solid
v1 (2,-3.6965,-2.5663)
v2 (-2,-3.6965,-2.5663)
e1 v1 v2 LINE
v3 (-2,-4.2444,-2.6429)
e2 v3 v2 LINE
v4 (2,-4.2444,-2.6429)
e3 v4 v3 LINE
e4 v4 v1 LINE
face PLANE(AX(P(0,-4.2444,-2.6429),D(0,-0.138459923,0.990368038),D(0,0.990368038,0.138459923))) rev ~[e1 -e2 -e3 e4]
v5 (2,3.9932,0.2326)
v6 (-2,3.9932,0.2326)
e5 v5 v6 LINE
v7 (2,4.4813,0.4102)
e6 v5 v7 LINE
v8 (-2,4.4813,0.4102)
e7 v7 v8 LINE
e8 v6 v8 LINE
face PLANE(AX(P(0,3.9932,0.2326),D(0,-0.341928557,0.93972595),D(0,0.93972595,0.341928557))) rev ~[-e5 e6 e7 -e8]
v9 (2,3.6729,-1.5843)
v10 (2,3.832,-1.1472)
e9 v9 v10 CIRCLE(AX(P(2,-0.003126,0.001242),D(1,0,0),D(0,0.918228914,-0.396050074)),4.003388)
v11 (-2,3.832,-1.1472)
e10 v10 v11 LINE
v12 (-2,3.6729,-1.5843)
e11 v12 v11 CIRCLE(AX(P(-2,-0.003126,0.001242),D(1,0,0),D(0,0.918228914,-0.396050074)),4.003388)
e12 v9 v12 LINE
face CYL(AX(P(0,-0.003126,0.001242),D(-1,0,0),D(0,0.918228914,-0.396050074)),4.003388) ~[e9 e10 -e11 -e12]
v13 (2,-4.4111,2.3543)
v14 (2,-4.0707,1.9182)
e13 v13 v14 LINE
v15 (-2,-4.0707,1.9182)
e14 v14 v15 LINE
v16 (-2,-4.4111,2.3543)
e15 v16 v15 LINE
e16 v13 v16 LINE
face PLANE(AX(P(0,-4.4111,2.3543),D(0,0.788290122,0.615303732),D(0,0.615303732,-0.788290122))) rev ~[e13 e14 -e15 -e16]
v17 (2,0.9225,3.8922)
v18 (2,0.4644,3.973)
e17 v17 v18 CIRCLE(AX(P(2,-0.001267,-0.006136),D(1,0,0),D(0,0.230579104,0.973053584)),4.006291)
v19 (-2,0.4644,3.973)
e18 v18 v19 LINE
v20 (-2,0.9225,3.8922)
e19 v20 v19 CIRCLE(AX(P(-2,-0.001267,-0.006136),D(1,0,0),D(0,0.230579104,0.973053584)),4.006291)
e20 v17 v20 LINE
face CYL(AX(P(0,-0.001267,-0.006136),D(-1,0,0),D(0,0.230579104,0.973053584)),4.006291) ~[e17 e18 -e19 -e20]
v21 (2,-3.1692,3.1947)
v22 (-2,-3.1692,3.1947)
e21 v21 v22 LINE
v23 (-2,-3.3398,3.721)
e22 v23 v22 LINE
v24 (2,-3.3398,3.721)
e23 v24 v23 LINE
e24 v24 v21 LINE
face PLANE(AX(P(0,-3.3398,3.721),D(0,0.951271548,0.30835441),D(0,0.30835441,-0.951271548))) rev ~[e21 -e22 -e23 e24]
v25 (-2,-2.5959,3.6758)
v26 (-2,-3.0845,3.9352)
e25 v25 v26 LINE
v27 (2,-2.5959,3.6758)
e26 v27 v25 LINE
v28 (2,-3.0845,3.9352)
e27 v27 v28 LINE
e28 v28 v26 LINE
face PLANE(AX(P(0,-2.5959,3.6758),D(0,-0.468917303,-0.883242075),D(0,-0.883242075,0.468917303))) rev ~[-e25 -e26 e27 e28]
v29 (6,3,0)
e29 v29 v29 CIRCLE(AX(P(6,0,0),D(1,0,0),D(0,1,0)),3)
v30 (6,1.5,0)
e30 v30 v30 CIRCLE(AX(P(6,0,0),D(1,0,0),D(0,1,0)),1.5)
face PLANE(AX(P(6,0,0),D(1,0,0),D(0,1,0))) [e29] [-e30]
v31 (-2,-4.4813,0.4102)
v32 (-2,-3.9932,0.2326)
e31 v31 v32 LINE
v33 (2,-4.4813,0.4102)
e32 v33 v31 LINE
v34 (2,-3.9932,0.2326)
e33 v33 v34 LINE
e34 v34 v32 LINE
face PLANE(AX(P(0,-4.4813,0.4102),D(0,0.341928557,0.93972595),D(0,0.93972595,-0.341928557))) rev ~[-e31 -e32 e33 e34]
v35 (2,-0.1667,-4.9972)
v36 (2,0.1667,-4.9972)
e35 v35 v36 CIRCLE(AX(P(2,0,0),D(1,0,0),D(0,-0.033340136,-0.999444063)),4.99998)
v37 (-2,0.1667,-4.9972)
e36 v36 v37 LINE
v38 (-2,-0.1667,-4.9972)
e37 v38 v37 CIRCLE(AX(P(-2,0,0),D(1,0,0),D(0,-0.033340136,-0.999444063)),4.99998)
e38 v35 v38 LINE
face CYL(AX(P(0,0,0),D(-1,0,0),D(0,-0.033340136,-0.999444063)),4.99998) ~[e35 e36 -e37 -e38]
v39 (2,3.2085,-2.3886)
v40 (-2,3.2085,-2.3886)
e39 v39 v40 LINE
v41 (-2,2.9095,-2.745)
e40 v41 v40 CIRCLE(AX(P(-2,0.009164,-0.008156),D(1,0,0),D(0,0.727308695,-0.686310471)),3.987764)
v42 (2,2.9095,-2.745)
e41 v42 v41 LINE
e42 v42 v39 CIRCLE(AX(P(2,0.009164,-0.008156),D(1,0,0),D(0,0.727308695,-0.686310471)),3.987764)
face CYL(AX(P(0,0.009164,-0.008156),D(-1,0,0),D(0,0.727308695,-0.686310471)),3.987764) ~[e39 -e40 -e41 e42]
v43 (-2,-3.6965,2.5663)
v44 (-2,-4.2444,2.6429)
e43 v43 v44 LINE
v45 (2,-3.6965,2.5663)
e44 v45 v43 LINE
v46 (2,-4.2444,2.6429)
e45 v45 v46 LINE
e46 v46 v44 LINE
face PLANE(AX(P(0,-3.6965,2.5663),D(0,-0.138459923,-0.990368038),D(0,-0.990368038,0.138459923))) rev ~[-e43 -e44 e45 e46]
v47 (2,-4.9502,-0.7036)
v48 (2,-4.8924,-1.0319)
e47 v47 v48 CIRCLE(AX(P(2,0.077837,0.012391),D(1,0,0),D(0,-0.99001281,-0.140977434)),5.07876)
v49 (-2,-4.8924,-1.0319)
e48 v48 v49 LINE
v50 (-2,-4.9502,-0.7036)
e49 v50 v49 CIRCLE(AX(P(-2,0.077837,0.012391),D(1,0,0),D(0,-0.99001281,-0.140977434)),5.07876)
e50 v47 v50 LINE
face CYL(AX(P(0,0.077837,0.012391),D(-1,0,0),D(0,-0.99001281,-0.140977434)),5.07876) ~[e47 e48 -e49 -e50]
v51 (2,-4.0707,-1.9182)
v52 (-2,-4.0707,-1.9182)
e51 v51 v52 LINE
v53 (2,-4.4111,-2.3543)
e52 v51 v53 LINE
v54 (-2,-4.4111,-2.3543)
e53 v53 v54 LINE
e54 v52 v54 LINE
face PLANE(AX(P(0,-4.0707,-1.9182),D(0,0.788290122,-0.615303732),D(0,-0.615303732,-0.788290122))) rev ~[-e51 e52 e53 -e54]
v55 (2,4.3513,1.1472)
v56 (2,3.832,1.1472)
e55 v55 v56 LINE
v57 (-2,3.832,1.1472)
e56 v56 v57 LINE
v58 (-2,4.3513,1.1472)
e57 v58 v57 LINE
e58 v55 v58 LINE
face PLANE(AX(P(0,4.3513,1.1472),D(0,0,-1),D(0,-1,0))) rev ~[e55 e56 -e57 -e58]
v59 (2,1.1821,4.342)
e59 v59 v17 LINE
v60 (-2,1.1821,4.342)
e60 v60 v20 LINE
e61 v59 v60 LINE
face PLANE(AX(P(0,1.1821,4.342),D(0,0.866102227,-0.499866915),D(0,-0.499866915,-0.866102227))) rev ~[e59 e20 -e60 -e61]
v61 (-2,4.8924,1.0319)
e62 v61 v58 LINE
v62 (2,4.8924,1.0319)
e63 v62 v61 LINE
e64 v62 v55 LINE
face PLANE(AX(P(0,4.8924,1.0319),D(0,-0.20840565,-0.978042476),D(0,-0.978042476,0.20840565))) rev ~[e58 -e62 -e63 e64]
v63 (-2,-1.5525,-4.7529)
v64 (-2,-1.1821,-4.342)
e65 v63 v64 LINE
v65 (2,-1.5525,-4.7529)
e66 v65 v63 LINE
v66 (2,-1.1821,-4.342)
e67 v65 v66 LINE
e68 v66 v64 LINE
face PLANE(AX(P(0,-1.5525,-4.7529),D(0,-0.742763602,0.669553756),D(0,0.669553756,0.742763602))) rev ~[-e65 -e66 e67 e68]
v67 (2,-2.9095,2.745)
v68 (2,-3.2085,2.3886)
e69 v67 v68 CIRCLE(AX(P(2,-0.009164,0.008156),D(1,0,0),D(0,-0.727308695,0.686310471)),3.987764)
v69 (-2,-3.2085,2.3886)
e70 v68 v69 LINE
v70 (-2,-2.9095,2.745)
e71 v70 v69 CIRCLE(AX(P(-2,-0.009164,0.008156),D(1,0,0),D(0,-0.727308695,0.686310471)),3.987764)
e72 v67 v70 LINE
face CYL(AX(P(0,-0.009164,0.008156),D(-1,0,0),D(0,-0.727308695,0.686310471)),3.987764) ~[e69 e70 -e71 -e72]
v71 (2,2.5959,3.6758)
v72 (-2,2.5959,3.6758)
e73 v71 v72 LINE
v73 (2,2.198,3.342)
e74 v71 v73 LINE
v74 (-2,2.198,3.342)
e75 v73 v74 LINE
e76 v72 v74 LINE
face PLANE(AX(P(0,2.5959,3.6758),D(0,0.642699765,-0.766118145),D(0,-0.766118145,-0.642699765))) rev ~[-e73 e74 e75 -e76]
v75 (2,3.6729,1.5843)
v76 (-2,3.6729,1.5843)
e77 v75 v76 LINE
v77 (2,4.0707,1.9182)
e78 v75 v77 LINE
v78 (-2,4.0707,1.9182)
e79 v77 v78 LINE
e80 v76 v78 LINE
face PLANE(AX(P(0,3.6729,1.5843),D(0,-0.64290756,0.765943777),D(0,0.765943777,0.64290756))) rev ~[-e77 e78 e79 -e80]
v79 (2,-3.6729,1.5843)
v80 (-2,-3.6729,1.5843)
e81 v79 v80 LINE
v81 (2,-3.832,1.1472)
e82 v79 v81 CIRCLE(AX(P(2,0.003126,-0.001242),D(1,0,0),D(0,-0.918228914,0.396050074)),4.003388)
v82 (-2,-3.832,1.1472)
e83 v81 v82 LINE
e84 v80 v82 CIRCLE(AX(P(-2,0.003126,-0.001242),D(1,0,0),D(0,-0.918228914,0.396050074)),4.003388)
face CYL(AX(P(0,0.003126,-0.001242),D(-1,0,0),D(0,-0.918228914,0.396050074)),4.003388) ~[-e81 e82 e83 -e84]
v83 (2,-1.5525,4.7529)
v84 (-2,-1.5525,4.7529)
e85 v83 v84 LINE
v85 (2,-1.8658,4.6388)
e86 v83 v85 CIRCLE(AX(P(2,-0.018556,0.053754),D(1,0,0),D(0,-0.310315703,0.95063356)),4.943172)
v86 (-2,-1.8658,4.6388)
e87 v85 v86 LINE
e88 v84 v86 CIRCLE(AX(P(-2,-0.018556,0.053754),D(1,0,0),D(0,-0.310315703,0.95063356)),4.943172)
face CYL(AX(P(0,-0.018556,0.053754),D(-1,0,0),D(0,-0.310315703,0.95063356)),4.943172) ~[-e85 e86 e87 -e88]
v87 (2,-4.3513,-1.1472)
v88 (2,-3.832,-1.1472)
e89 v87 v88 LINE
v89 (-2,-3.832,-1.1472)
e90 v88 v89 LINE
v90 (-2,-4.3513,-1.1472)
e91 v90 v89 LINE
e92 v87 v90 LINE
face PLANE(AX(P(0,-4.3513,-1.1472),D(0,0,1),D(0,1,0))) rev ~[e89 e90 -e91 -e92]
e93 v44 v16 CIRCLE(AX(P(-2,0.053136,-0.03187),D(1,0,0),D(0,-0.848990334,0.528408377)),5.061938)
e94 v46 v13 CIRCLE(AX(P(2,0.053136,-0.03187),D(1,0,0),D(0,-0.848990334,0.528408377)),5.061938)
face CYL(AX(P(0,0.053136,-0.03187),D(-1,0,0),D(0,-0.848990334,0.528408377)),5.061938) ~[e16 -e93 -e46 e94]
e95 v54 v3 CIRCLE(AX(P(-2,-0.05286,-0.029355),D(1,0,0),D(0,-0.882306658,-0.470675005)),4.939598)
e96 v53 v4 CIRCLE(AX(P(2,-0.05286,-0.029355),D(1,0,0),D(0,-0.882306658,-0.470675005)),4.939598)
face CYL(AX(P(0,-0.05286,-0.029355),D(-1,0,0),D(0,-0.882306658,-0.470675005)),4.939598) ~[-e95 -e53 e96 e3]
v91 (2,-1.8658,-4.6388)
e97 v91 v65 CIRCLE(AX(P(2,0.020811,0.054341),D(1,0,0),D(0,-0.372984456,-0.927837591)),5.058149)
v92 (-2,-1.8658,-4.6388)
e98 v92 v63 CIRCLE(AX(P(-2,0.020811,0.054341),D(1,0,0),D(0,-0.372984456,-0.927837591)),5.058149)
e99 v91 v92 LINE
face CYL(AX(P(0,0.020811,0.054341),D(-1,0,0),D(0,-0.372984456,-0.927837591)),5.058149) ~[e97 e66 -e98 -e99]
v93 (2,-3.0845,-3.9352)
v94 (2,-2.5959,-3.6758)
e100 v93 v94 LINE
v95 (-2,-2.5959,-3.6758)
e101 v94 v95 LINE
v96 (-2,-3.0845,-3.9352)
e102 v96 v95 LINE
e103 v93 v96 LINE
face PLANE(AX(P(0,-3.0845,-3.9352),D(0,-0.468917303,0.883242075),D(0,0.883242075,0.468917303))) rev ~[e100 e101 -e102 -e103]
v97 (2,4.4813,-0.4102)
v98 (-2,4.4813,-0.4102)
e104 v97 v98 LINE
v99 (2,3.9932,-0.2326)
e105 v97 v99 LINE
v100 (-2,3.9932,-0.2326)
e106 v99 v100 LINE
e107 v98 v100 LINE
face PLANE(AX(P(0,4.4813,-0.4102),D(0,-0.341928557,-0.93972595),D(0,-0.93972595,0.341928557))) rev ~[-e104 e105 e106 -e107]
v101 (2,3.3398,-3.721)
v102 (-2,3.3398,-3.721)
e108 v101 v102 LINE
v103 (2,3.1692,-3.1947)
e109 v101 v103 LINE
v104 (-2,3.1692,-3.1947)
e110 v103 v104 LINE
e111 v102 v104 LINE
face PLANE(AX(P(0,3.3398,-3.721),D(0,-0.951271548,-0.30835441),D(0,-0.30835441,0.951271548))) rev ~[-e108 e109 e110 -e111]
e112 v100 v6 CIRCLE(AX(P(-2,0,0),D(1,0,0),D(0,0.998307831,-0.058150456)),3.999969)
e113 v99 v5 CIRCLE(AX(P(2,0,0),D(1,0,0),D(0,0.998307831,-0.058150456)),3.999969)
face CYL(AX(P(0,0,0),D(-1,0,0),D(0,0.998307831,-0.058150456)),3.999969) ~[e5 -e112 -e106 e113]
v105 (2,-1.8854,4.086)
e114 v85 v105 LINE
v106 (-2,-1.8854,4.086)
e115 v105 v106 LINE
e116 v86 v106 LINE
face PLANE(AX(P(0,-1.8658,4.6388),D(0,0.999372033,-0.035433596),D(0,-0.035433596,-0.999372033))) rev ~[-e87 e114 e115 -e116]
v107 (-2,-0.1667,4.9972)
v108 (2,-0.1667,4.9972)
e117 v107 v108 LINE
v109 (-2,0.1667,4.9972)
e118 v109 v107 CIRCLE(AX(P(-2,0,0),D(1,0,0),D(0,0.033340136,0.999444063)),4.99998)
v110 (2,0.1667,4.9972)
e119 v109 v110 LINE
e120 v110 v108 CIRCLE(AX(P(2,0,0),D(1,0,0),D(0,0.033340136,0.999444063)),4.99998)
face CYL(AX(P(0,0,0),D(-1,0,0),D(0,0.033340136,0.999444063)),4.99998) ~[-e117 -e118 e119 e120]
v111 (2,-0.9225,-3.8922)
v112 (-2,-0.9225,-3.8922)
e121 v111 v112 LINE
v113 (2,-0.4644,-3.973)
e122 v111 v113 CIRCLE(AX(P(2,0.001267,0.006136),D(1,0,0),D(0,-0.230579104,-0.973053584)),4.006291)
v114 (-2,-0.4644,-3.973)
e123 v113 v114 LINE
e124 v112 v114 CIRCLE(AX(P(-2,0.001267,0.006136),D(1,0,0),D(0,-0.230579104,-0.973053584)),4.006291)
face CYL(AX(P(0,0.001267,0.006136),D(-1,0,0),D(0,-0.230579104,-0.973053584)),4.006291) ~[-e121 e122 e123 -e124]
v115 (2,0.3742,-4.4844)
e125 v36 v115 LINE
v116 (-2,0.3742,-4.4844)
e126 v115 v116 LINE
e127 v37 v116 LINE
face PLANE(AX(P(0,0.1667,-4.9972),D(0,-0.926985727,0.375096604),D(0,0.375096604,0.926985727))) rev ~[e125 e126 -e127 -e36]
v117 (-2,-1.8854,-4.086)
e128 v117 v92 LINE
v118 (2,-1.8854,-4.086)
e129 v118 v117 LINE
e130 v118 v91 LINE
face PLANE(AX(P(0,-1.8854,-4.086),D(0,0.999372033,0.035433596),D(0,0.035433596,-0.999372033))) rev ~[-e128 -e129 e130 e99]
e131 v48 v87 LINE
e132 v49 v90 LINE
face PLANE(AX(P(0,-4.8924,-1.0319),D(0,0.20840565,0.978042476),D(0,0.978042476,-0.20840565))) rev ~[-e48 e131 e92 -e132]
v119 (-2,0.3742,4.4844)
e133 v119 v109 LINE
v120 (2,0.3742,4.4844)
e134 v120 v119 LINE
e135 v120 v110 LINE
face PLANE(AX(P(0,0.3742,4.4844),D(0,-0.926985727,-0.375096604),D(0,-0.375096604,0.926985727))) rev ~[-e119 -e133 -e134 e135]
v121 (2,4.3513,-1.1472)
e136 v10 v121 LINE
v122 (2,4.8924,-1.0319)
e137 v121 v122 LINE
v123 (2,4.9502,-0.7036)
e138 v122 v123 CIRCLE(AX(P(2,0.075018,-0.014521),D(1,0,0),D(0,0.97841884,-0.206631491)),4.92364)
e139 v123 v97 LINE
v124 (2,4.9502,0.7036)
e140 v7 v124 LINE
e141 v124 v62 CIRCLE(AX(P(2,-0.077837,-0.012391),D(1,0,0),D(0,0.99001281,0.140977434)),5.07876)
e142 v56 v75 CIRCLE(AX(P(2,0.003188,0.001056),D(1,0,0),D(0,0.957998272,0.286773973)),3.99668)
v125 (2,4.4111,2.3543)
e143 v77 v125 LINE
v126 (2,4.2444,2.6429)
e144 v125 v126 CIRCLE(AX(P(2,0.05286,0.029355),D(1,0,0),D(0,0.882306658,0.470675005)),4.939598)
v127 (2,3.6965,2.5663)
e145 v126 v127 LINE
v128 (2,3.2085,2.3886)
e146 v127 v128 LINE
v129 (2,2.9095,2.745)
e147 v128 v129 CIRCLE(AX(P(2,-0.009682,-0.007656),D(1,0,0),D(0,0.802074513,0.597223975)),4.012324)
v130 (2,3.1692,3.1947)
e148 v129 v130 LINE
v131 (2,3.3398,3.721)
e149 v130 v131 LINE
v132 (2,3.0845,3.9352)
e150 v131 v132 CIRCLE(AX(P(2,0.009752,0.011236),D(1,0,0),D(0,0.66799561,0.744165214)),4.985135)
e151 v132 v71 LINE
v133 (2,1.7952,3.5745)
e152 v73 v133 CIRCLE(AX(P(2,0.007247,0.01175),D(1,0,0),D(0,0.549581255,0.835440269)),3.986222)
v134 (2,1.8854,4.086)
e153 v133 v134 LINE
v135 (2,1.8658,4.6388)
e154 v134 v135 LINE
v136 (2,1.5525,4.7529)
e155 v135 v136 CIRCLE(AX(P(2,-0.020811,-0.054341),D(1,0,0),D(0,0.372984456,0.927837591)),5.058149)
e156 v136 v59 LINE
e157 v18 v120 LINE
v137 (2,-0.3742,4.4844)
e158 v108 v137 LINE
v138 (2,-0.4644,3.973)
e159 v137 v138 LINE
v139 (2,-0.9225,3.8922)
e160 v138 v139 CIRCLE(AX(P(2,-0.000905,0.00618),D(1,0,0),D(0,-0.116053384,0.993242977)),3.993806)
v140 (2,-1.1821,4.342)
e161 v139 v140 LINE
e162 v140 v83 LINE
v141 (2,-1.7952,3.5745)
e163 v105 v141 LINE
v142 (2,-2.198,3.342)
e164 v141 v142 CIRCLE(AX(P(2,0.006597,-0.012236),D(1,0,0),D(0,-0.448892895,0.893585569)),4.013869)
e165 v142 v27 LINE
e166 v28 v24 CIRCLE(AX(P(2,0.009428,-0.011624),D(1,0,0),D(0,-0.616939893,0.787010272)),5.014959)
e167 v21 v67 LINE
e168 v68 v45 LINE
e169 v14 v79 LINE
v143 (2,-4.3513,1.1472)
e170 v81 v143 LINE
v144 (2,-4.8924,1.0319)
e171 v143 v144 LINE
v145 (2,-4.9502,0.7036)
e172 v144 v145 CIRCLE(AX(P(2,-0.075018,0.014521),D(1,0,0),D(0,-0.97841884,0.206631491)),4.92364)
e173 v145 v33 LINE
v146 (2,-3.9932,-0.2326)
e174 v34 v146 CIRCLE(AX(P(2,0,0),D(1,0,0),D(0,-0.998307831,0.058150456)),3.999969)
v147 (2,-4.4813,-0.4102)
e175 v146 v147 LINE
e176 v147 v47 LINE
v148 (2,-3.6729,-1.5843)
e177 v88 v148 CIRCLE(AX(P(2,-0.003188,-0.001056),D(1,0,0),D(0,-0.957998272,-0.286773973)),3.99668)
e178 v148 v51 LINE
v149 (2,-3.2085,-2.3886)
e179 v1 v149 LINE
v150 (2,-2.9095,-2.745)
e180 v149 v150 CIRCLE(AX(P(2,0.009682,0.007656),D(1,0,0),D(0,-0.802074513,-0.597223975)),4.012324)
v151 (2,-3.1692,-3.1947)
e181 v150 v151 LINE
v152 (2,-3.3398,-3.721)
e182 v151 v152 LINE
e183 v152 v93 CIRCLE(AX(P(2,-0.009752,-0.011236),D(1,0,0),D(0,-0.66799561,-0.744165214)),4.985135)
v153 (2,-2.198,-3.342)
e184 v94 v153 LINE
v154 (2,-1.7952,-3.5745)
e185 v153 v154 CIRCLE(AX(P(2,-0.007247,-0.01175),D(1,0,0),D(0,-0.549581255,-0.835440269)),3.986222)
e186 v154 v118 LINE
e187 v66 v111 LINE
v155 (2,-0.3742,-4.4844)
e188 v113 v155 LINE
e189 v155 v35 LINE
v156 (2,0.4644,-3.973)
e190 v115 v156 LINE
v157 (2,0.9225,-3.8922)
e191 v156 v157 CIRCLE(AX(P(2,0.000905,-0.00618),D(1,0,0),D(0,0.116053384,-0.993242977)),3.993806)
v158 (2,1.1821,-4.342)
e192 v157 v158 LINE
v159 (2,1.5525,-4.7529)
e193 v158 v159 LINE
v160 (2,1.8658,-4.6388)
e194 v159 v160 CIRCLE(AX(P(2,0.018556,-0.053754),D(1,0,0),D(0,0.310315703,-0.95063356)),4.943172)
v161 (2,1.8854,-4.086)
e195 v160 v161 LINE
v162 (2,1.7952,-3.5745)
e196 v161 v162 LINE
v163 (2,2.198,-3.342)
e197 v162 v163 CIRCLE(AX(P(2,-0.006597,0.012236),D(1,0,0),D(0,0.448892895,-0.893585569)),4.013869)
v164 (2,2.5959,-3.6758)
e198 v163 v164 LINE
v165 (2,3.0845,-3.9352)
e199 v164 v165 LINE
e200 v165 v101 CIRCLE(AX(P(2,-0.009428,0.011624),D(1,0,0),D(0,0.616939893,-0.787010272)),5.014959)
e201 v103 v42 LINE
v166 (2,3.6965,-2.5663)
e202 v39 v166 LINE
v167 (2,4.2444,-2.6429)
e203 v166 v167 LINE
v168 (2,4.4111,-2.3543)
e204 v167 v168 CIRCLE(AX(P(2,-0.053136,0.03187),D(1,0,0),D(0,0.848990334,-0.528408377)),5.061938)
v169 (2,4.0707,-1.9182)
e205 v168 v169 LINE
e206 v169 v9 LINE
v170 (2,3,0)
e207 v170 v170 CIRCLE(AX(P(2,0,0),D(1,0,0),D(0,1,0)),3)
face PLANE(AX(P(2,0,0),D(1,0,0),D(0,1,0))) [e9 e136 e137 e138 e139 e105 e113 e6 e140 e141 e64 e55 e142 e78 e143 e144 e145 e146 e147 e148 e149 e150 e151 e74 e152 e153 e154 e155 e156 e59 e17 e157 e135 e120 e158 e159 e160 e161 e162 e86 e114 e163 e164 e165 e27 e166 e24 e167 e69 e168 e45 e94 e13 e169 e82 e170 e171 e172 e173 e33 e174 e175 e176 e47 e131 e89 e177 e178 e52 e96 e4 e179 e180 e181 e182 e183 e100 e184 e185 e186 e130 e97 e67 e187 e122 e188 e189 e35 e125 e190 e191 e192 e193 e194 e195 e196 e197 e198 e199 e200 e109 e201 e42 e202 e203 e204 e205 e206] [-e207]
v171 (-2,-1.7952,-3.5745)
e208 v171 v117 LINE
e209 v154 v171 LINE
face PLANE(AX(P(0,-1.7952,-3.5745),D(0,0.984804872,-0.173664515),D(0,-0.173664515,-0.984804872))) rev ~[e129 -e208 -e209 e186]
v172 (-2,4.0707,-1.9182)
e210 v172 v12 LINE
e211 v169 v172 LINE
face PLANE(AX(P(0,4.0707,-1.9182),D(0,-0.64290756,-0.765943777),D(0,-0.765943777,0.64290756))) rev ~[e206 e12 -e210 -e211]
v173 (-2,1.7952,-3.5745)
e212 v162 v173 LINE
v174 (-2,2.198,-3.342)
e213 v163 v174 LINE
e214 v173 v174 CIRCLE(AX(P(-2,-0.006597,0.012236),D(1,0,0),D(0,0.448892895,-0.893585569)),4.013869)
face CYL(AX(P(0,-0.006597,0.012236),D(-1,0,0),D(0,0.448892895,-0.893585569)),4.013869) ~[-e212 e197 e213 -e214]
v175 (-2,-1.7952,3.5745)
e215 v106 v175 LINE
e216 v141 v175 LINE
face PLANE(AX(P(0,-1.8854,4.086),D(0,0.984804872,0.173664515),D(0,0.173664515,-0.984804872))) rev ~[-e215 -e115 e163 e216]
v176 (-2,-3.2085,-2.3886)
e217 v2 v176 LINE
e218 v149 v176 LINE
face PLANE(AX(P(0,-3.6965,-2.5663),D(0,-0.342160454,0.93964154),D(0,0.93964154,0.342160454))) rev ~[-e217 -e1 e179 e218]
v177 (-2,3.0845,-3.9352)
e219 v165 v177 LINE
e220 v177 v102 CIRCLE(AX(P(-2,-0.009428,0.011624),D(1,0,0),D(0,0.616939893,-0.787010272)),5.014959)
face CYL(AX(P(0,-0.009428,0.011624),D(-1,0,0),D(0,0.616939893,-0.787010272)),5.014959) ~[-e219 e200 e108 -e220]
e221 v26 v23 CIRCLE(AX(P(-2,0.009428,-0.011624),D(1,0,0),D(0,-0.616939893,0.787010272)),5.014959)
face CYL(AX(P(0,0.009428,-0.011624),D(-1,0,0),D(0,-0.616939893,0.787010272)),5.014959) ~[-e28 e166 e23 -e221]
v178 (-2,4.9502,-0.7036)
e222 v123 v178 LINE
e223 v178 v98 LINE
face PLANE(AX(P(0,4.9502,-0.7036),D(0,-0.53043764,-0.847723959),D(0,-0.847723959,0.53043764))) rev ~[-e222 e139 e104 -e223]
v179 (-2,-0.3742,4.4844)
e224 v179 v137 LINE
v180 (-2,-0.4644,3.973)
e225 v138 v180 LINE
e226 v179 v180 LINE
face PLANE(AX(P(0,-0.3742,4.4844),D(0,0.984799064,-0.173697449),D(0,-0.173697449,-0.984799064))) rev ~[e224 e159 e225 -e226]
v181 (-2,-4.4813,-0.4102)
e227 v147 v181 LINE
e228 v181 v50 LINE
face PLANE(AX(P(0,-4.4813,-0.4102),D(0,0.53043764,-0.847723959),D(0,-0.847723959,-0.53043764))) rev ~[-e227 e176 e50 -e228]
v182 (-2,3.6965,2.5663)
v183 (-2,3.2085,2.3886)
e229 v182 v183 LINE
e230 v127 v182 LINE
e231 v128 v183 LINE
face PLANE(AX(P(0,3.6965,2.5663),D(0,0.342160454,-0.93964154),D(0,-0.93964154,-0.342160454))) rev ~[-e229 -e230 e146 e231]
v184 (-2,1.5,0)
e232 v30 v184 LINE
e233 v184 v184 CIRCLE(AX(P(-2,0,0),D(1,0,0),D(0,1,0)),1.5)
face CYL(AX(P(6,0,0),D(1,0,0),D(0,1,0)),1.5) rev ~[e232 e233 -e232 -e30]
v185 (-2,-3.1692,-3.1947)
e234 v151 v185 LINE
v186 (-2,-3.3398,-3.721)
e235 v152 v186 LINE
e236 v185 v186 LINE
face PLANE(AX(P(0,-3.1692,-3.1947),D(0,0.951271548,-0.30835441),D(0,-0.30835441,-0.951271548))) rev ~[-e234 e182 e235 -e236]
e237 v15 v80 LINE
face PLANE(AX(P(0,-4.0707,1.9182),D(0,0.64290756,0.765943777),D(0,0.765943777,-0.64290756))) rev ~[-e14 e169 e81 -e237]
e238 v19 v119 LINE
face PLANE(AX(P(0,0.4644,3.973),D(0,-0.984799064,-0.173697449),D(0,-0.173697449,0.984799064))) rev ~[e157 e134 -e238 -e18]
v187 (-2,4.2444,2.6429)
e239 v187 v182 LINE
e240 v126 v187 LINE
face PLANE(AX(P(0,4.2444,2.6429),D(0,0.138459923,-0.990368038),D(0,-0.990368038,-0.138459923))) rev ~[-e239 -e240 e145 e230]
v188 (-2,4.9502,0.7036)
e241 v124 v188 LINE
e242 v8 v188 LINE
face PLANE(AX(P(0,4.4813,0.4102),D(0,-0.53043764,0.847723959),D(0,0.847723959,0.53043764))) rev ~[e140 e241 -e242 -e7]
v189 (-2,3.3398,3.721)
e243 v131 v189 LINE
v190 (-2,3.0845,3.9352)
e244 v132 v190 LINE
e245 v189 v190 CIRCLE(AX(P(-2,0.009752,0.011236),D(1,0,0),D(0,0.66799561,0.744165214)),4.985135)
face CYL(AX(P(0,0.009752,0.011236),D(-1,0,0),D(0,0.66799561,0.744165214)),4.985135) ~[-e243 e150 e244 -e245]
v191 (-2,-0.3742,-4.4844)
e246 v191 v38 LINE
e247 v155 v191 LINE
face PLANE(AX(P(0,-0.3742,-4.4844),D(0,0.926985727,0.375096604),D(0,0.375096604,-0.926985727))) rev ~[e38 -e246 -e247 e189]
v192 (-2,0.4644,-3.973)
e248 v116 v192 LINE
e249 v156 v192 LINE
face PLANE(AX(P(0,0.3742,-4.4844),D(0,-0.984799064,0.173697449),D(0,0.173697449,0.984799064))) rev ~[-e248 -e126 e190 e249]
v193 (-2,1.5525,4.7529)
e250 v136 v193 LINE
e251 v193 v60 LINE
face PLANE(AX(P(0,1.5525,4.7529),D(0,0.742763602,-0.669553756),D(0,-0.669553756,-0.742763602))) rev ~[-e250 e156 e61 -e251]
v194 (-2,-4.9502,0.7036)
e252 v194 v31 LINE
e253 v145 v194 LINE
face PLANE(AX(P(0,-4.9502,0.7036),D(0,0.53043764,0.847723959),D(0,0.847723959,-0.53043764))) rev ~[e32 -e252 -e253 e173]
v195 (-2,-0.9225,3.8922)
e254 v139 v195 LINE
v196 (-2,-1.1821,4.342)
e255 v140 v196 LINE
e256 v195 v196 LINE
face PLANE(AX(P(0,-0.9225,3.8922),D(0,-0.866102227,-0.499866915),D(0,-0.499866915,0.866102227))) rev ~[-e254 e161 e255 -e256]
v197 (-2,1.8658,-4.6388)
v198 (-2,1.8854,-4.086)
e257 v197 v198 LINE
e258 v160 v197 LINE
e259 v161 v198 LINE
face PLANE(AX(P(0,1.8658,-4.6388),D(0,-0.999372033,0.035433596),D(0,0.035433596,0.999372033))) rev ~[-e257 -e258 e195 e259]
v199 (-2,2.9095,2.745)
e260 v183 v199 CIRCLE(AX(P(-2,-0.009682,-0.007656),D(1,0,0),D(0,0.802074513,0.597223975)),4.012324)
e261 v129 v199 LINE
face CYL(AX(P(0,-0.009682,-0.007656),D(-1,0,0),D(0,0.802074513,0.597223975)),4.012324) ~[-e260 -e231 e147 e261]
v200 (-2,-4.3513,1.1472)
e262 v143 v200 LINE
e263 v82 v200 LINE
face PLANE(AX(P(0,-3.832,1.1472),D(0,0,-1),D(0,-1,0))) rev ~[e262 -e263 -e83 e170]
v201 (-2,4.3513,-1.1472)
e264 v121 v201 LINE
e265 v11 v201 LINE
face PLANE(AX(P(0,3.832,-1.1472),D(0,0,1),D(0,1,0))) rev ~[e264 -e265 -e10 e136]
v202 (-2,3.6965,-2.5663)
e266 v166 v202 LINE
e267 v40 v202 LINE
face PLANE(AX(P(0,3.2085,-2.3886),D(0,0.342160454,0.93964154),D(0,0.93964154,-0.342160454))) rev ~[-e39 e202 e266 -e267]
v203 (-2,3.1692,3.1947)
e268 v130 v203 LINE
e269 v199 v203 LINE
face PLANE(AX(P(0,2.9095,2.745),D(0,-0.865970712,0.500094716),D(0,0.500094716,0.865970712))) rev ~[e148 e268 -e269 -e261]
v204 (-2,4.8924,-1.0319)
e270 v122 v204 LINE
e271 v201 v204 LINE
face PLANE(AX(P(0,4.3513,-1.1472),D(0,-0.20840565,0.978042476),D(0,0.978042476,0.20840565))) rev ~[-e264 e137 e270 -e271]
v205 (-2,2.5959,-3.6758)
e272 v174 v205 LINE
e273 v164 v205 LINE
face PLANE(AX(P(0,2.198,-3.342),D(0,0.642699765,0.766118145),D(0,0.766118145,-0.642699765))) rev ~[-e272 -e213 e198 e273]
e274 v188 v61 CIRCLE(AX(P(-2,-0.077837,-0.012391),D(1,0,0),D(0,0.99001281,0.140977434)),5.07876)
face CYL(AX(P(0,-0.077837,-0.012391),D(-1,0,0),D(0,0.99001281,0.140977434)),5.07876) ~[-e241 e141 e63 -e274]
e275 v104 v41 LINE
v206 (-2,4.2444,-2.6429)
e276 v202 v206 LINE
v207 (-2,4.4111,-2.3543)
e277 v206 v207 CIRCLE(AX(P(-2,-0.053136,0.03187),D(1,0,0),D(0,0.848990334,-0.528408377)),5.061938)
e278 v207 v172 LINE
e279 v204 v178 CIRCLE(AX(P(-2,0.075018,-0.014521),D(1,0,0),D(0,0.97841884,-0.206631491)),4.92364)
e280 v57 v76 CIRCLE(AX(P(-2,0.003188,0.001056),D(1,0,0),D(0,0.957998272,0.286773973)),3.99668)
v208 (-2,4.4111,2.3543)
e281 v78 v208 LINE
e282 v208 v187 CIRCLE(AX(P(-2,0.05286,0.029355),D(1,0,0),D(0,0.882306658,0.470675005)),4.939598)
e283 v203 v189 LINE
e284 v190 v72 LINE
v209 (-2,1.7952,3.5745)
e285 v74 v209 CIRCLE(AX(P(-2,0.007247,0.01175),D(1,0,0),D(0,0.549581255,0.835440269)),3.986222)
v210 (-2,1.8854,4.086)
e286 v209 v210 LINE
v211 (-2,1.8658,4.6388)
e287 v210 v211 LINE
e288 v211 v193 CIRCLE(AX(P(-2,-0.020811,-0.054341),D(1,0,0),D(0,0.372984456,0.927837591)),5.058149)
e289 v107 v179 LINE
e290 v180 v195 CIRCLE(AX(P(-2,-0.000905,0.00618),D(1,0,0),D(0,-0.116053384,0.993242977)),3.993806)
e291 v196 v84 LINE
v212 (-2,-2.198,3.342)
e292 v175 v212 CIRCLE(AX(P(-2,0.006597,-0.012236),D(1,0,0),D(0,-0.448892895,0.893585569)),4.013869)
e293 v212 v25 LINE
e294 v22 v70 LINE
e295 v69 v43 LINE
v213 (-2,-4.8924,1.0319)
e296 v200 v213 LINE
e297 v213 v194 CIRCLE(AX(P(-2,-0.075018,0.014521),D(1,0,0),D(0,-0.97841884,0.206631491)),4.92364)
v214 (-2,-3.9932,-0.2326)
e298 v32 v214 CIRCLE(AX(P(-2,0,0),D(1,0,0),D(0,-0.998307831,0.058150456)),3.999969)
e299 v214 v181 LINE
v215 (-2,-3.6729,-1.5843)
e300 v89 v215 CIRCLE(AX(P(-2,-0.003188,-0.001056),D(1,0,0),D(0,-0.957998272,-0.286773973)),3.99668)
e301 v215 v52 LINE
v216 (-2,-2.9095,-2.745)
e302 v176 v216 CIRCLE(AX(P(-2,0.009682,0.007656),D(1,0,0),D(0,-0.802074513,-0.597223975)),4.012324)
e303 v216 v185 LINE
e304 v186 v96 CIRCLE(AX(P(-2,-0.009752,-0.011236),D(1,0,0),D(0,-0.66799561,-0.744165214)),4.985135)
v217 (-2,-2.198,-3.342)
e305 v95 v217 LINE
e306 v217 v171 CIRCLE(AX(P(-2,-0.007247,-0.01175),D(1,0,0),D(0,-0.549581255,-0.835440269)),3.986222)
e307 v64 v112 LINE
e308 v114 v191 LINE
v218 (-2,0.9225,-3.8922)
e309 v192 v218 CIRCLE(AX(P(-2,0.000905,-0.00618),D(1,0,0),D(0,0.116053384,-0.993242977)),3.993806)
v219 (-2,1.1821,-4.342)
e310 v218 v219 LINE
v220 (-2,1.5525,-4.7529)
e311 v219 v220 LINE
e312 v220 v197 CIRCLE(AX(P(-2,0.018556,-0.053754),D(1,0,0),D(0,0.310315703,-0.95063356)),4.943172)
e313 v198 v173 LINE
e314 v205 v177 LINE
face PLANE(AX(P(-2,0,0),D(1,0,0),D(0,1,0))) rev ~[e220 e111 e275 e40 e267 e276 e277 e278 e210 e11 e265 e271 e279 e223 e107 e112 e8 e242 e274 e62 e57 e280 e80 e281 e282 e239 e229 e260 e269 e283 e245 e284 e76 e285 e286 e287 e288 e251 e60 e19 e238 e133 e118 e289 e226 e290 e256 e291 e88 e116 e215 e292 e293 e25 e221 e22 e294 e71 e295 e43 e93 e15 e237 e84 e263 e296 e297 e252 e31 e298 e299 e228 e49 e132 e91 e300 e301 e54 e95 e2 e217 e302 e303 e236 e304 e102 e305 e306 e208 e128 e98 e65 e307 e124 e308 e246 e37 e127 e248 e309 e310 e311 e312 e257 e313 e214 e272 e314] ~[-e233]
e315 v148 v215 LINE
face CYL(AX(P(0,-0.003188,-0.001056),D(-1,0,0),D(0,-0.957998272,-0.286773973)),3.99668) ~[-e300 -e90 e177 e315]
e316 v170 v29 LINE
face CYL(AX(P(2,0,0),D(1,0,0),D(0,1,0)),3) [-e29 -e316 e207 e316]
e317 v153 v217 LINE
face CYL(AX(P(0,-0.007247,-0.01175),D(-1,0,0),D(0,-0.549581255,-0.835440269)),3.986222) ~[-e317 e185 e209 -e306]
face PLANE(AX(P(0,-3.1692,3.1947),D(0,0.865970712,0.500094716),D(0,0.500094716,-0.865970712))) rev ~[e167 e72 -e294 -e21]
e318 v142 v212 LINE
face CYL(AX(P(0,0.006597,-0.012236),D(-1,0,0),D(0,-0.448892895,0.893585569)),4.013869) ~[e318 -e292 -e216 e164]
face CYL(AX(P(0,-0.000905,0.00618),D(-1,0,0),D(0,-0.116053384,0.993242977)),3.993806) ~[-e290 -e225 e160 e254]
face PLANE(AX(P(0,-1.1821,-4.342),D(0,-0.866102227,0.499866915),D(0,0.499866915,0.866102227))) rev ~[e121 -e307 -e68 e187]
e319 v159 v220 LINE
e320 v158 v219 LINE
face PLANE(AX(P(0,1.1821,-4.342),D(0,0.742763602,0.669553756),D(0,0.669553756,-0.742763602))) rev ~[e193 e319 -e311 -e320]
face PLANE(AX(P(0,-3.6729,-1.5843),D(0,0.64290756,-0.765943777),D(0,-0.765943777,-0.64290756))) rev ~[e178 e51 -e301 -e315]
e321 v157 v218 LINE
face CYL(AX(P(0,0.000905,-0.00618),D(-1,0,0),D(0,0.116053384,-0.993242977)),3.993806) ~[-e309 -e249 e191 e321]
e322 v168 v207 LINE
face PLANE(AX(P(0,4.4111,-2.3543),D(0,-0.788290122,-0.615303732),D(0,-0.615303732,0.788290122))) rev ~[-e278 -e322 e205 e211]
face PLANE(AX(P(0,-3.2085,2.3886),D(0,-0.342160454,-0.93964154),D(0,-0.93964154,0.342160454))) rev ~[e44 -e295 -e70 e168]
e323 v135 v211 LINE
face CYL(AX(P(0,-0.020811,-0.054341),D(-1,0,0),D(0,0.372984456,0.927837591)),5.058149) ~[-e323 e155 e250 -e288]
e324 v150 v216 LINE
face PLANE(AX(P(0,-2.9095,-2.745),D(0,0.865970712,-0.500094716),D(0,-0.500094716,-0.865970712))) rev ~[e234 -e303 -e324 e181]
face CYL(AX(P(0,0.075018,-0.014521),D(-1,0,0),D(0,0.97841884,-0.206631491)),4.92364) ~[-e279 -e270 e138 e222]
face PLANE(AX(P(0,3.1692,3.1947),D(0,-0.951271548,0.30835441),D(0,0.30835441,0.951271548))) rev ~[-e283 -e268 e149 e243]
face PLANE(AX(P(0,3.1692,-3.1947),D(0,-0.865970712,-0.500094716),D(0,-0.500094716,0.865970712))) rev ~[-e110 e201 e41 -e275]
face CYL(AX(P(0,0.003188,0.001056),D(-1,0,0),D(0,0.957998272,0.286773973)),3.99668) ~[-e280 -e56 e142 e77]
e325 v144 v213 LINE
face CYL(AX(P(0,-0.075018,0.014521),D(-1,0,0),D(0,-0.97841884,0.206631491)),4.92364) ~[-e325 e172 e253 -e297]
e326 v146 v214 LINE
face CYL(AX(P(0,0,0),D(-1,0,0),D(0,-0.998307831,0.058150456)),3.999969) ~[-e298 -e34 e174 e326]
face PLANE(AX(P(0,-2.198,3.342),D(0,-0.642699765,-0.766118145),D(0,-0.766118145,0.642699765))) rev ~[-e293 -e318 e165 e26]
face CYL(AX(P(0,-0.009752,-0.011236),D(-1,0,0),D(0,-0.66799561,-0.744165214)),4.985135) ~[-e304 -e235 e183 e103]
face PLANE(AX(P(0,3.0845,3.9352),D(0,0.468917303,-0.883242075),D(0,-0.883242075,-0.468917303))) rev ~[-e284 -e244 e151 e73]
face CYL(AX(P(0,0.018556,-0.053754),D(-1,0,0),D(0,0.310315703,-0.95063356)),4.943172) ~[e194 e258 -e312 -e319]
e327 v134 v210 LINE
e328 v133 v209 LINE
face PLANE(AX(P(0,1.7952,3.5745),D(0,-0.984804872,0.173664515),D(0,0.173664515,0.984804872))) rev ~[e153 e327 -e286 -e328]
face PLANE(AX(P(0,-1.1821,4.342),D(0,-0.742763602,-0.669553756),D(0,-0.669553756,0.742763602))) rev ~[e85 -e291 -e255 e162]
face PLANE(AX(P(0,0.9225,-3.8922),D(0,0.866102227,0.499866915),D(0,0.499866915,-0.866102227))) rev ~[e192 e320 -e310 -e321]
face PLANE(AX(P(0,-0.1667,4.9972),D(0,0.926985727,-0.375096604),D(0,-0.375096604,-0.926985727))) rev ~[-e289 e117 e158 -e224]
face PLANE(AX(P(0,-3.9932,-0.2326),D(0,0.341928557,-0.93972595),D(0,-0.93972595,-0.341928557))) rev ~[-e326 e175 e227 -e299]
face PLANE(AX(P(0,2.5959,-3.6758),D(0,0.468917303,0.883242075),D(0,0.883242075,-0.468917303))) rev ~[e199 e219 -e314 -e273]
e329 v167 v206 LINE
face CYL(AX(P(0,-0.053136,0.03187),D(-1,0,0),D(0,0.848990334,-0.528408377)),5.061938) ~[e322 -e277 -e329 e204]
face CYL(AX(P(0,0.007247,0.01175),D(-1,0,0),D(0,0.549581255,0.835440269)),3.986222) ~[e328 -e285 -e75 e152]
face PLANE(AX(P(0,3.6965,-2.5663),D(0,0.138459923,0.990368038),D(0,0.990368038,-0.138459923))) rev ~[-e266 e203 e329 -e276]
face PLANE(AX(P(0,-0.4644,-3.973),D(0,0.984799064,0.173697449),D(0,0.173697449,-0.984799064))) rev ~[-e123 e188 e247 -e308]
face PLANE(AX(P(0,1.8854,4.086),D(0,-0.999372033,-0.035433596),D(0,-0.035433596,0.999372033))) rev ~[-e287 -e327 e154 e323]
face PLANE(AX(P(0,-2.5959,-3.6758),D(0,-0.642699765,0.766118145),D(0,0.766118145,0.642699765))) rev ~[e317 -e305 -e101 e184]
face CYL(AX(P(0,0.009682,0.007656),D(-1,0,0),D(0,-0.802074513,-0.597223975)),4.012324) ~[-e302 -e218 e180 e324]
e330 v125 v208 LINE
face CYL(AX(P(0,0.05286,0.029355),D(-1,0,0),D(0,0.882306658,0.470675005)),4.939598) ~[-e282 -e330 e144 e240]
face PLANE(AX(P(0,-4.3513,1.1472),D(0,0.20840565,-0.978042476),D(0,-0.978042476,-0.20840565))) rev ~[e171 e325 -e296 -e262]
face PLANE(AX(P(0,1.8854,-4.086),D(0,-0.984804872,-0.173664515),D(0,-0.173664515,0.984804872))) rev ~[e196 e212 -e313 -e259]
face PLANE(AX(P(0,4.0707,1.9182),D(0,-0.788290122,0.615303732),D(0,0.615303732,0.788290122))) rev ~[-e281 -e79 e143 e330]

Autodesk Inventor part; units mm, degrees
ref_plane "YZ Plane" through (0, 0, 0) normal (1, 0, 0) x (0, 1, 0)
ref_plane "XZ Plane" through (0, 0, 0) normal (0, 1, 0) x (-1, 0, 0)
ref_plane "XY Plane" through (0, 0, 0) normal (0, 0, 1) x (1, 0, 0)
sketch "Skizze_1" plane through (0, 0, 0) normal (1, 0, 0) x (0, 1, 0)
  arc A0 (0.1667, 4.9972) -> (-0.1667, 4.9972) centre (0, 0) ccw
  line L0 (-0.1667, 4.9972) -> (-0.3742, 4.4844)
  line L1 (-0.3742, 4.4844) -> (-0.4644, 3.973)
  arc A1 (-0.4644, 3.973) -> (-0.9225, 3.8922) centre (0, 0) ccw
  line L2 (-0.9225, 3.8922) -> (-1.1821, 4.342)
  line L3 (-1.1821, 4.342) -> (-1.5525, 4.7529)
  arc A2 (-1.5525, 4.7529) -> (-1.8658, 4.6388) centre (0, 0) ccw
  line L4 (-1.8658, 4.6388) -> (-1.8854, 4.086)
  line L5 (-1.8854, 4.086) -> (-1.7952, 3.5745)
  arc A3 (-1.7952, 3.5745) -> (-2.198, 3.342) centre (0, 0) ccw
  line L6 (-2.198, 3.342) -> (-2.5959, 3.6758)
  line L7 (-2.5959, 3.6758) -> (-3.0845, 3.9352)
  arc A4 (-3.0845, 3.9352) -> (-3.3398, 3.721) centre (0, 0) ccw
  line L8 (-3.3398, 3.721) -> (-3.1692, 3.1947)
  line L9 (-3.1692, 3.1947) -> (-2.9095, 2.745)
  arc A5 (-2.9095, 2.745) -> (-3.2085, 2.3886) centre (0, 0) ccw
  line L10 (-3.2085, 2.3886) -> (-3.6965, 2.5663)
  line L11 (-3.6965, 2.5663) -> (-4.2444, 2.6429)
  arc A6 (-4.2444, 2.6429) -> (-4.4111, 2.3543) centre (0, 0) ccw
  line L12 (-4.4111, 2.3543) -> (-4.0707, 1.9182)
  line L13 (-4.0707, 1.9182) -> (-3.6729, 1.5843)
  arc A7 (-3.6729, 1.5843) -> (-3.832, 1.1472) centre (0, 0) ccw
  line L14 (-3.832, 1.1472) -> (-4.3513, 1.1472)
  line L15 (-4.3513, 1.1472) -> (-4.8924, 1.0319)
  arc A8 (-4.8924, 1.0319) -> (-4.9502, 0.7036) centre (0, 0) ccw
  line L16 (-4.9502, 0.7036) -> (-4.4813, 0.4102)
  line L17 (-4.4813, 0.4102) -> (-3.9932, 0.2326)
  arc A9 (-3.9932, 0.2326) -> (-3.9932, -0.2326) centre (0, 0) ccw
  line L18 (-3.9932, -0.2326) -> (-4.4813, -0.4102)
  line L19 (-4.4813, -0.4102) -> (-4.9502, -0.7036)
  arc A10 (-4.9502, -0.7036) -> (-4.8924, -1.0319) centre (0, 0) ccw
  line L20 (-4.8924, -1.0319) -> (-4.3513, -1.1472)
  line L21 (-4.3513, -1.1472) -> (-3.832, -1.1472)
  arc A11 (-3.832, -1.1472) -> (-3.6729, -1.5843) centre (0, 0) ccw
  line L22 (-3.6729, -1.5843) -> (-4.0707, -1.9182)
  line L23 (-4.0707, -1.9182) -> (-4.4111, -2.3543)
  arc A12 (-4.4111, -2.3543) -> (-4.2444, -2.6429) centre (0, 0) ccw
  line L24 (-4.2444, -2.6429) -> (-3.6965, -2.5663)
  line L25 (-3.6965, -2.5663) -> (-3.2085, -2.3886)
  arc A13 (-3.2085, -2.3886) -> (-2.9095, -2.745) centre (0, 0) ccw
  line L26 (-2.9095, -2.745) -> (-3.1692, -3.1947)
  line L27 (-3.1692, -3.1947) -> (-3.3398, -3.721)
  arc A14 (-3.3398, -3.721) -> (-3.0845, -3.9352) centre (0, 0) ccw
  line L28 (-3.0845, -3.9352) -> (-2.5959, -3.6758)
  line L29 (-2.5959, -3.6758) -> (-2.198, -3.342)
  arc A15 (-2.198, -3.342) -> (-1.7952, -3.5745) centre (0, 0) ccw
  line L30 (-1.7952, -3.5745) -> (-1.8854, -4.086)
  line L31 (-1.8854, -4.086) -> (-1.8658, -4.6388)
  arc A16 (-1.8658, -4.6388) -> (-1.5525, -4.7529) centre (0, 0) ccw
  line L32 (-1.5525, -4.7529) -> (-1.1821, -4.342)
  line L33 (-1.1821, -4.342) -> (-0.9225, -3.8922)
  arc A17 (-0.9225, -3.8922) -> (-0.4644, -3.973) centre (0, 0) ccw
  line L34 (-0.4644, -3.973) -> (-0.3742, -4.4844)
  line L35 (-0.3742, -4.4844) -> (-0.1667, -4.9972)
  arc A18 (-0.1667, -4.9972) -> (0.1667, -4.9972) centre (0, 0) ccw
  line L36 (0.1667, -4.9972) -> (0.3742, -4.4844)
  line L37 (0.3742, -4.4844) -> (0.4644, -3.973)
  arc A19 (0.4644, -3.973) -> (0.9225, -3.8922) centre (0, 0) ccw
  line L38 (0.9225, -3.8922) -> (1.1821, -4.342)
  line L39 (1.1821, -4.342) -> (1.5525, -4.7529)
  arc A20 (1.5525, -4.7529) -> (1.8658, -4.6388) centre (0, 0) ccw
  line L40 (1.8658, -4.6388) -> (1.8854, -4.086)
  line L41 (1.8854, -4.086) -> (1.7952, -3.5745)
  arc A21 (1.7952, -3.5745) -> (2.198, -3.342) centre (0, 0) ccw
  line L42 (2.198, -3.342) -> (2.5959, -3.6758)
  line L43 (2.5959, -3.6758) -> (3.0845, -3.9352)
  arc A22 (3.0845, -3.9352) -> (3.3398, -3.721) centre (0, 0) ccw
  line L44 (3.3398, -3.721) -> (3.1692, -3.1947)
  line L45 (3.1692, -3.1947) -> (2.9095, -2.745)
  arc A23 (2.9095, -2.745) -> (3.2085, -2.3886) centre (0, 0) ccw
  line L46 (3.2085, -2.3886) -> (3.6965, -2.5663)
  line L47 (3.6965, -2.5663) -> (4.2444, -2.6429)
  arc A24 (4.2444, -2.6429) -> (4.4111, -2.3543) centre (0, 0) ccw
  line L48 (4.4111, -2.3543) -> (4.0707, -1.9182)
  line L49 (4.0707, -1.9182) -> (3.6729, -1.5843)
  arc A25 (3.6729, -1.5843) -> (3.832, -1.1472) centre (0, 0) ccw
  line L50 (3.832, -1.1472) -> (4.3513, -1.1472)
  line L51 (4.3513, -1.1472) -> (4.8924, -1.0319)
  arc A26 (4.8924, -1.0319) -> (4.9502, -0.7036) centre (0, 0) ccw
  line L52 (4.9502, -0.7036) -> (4.4813, -0.4102)
  line L53 (4.4813, -0.4102) -> (3.9932, -0.2326)
  arc A27 (3.9932, -0.2326) -> (3.9932, 0.2326) centre (0, 0) ccw
  line L54 (3.9932, 0.2326) -> (4.4813, 0.4102)
  line L55 (4.4813, 0.4102) -> (4.9502, 0.7036)
  arc A28 (4.9502, 0.7036) -> (4.8924, 1.0319) centre (0, 0) ccw
  line L56 (4.8924, 1.0319) -> (4.3513, 1.1472)
  line L57 (4.3513, 1.1472) -> (3.832, 1.1472)
  arc A29 (3.832, 1.1472) -> (3.6729, 1.5843) centre (0, 0) ccw
  line L58 (3.6729, 1.5843) -> (4.0707, 1.9182)
  line L59 (4.0707, 1.9182) -> (4.4111, 2.3543)
  arc A30 (4.4111, 2.3543) -> (4.2444, 2.6429) centre (0, 0) ccw
  line L60 (4.2444, 2.6429) -> (3.6965, 2.5663)
  line L61 (3.6965, 2.5663) -> (3.2085, 2.3886)
  arc A31 (3.2085, 2.3886) -> (2.9095, 2.745) centre (0, 0) ccw
  line L62 (2.9095, 2.745) -> (3.1692, 3.1947)
  line L63 (3.1692, 3.1947) -> (3.3398, 3.721)
  arc A32 (3.3398, 3.721) -> (3.0845, 3.9352) centre (0, 0) ccw
  line L64 (3.0845, 3.9352) -> (2.5959, 3.6758)
  line L65 (2.5959, 3.6758) -> (2.198, 3.342)
  arc A33 (2.198, 3.342) -> (1.7952, 3.5745) centre (0, 0) ccw
  line L66 (1.7952, 3.5745) -> (1.8854, 4.086)
  line L67 (1.8854, 4.086) -> (1.8658, 4.6388)
  arc A34 (1.8658, 4.6388) -> (1.5525, 4.7529) centre (0, 0) ccw
  line L68 (1.5525, 4.7529) -> (1.1821, 4.342)
  line L69 (1.1821, 4.342) -> (0.9225, 3.8922)
  arc A35 (0.9225, 3.8922) -> (0.4644, 3.973) centre (0, 0) ccw
  line L70 (0.4644, 3.973) -> (0.3742, 4.4844)
  line L71 (0.3742, 4.4844) -> (0.1667, 4.9972)
extrude "Extrusion1" add sketch "Skizze_1" along normal mid plane 4
sketch "Skizze_2" plane through (0, 0, 0) normal (0, 0, 1) x (1, 0, 0)
  line L0 (6, 0) -> (2, 0)
  line L1 (2, 0) -> (2, 3)
  line L2 (2, 3) -> (6, 3)
  line L3 (6, 3) -> (6, 0)
  line L4 (6, 0) -> (2, 0)
revolve "Revolution1" add sketch "Skizze_2" angle 360 about axis through (6, 0, 0) along (1, 0, 0)
sketch "Skizze_3" plane through (6, 0, 0) normal (1, 0, 0) x (0, 1, 0)
  circle A0 centre (0, 0) radius 1.5
extrude "Extrusion2" cut sketch "Skizze_3" along normal mid plane 16
properties part number "18z"
